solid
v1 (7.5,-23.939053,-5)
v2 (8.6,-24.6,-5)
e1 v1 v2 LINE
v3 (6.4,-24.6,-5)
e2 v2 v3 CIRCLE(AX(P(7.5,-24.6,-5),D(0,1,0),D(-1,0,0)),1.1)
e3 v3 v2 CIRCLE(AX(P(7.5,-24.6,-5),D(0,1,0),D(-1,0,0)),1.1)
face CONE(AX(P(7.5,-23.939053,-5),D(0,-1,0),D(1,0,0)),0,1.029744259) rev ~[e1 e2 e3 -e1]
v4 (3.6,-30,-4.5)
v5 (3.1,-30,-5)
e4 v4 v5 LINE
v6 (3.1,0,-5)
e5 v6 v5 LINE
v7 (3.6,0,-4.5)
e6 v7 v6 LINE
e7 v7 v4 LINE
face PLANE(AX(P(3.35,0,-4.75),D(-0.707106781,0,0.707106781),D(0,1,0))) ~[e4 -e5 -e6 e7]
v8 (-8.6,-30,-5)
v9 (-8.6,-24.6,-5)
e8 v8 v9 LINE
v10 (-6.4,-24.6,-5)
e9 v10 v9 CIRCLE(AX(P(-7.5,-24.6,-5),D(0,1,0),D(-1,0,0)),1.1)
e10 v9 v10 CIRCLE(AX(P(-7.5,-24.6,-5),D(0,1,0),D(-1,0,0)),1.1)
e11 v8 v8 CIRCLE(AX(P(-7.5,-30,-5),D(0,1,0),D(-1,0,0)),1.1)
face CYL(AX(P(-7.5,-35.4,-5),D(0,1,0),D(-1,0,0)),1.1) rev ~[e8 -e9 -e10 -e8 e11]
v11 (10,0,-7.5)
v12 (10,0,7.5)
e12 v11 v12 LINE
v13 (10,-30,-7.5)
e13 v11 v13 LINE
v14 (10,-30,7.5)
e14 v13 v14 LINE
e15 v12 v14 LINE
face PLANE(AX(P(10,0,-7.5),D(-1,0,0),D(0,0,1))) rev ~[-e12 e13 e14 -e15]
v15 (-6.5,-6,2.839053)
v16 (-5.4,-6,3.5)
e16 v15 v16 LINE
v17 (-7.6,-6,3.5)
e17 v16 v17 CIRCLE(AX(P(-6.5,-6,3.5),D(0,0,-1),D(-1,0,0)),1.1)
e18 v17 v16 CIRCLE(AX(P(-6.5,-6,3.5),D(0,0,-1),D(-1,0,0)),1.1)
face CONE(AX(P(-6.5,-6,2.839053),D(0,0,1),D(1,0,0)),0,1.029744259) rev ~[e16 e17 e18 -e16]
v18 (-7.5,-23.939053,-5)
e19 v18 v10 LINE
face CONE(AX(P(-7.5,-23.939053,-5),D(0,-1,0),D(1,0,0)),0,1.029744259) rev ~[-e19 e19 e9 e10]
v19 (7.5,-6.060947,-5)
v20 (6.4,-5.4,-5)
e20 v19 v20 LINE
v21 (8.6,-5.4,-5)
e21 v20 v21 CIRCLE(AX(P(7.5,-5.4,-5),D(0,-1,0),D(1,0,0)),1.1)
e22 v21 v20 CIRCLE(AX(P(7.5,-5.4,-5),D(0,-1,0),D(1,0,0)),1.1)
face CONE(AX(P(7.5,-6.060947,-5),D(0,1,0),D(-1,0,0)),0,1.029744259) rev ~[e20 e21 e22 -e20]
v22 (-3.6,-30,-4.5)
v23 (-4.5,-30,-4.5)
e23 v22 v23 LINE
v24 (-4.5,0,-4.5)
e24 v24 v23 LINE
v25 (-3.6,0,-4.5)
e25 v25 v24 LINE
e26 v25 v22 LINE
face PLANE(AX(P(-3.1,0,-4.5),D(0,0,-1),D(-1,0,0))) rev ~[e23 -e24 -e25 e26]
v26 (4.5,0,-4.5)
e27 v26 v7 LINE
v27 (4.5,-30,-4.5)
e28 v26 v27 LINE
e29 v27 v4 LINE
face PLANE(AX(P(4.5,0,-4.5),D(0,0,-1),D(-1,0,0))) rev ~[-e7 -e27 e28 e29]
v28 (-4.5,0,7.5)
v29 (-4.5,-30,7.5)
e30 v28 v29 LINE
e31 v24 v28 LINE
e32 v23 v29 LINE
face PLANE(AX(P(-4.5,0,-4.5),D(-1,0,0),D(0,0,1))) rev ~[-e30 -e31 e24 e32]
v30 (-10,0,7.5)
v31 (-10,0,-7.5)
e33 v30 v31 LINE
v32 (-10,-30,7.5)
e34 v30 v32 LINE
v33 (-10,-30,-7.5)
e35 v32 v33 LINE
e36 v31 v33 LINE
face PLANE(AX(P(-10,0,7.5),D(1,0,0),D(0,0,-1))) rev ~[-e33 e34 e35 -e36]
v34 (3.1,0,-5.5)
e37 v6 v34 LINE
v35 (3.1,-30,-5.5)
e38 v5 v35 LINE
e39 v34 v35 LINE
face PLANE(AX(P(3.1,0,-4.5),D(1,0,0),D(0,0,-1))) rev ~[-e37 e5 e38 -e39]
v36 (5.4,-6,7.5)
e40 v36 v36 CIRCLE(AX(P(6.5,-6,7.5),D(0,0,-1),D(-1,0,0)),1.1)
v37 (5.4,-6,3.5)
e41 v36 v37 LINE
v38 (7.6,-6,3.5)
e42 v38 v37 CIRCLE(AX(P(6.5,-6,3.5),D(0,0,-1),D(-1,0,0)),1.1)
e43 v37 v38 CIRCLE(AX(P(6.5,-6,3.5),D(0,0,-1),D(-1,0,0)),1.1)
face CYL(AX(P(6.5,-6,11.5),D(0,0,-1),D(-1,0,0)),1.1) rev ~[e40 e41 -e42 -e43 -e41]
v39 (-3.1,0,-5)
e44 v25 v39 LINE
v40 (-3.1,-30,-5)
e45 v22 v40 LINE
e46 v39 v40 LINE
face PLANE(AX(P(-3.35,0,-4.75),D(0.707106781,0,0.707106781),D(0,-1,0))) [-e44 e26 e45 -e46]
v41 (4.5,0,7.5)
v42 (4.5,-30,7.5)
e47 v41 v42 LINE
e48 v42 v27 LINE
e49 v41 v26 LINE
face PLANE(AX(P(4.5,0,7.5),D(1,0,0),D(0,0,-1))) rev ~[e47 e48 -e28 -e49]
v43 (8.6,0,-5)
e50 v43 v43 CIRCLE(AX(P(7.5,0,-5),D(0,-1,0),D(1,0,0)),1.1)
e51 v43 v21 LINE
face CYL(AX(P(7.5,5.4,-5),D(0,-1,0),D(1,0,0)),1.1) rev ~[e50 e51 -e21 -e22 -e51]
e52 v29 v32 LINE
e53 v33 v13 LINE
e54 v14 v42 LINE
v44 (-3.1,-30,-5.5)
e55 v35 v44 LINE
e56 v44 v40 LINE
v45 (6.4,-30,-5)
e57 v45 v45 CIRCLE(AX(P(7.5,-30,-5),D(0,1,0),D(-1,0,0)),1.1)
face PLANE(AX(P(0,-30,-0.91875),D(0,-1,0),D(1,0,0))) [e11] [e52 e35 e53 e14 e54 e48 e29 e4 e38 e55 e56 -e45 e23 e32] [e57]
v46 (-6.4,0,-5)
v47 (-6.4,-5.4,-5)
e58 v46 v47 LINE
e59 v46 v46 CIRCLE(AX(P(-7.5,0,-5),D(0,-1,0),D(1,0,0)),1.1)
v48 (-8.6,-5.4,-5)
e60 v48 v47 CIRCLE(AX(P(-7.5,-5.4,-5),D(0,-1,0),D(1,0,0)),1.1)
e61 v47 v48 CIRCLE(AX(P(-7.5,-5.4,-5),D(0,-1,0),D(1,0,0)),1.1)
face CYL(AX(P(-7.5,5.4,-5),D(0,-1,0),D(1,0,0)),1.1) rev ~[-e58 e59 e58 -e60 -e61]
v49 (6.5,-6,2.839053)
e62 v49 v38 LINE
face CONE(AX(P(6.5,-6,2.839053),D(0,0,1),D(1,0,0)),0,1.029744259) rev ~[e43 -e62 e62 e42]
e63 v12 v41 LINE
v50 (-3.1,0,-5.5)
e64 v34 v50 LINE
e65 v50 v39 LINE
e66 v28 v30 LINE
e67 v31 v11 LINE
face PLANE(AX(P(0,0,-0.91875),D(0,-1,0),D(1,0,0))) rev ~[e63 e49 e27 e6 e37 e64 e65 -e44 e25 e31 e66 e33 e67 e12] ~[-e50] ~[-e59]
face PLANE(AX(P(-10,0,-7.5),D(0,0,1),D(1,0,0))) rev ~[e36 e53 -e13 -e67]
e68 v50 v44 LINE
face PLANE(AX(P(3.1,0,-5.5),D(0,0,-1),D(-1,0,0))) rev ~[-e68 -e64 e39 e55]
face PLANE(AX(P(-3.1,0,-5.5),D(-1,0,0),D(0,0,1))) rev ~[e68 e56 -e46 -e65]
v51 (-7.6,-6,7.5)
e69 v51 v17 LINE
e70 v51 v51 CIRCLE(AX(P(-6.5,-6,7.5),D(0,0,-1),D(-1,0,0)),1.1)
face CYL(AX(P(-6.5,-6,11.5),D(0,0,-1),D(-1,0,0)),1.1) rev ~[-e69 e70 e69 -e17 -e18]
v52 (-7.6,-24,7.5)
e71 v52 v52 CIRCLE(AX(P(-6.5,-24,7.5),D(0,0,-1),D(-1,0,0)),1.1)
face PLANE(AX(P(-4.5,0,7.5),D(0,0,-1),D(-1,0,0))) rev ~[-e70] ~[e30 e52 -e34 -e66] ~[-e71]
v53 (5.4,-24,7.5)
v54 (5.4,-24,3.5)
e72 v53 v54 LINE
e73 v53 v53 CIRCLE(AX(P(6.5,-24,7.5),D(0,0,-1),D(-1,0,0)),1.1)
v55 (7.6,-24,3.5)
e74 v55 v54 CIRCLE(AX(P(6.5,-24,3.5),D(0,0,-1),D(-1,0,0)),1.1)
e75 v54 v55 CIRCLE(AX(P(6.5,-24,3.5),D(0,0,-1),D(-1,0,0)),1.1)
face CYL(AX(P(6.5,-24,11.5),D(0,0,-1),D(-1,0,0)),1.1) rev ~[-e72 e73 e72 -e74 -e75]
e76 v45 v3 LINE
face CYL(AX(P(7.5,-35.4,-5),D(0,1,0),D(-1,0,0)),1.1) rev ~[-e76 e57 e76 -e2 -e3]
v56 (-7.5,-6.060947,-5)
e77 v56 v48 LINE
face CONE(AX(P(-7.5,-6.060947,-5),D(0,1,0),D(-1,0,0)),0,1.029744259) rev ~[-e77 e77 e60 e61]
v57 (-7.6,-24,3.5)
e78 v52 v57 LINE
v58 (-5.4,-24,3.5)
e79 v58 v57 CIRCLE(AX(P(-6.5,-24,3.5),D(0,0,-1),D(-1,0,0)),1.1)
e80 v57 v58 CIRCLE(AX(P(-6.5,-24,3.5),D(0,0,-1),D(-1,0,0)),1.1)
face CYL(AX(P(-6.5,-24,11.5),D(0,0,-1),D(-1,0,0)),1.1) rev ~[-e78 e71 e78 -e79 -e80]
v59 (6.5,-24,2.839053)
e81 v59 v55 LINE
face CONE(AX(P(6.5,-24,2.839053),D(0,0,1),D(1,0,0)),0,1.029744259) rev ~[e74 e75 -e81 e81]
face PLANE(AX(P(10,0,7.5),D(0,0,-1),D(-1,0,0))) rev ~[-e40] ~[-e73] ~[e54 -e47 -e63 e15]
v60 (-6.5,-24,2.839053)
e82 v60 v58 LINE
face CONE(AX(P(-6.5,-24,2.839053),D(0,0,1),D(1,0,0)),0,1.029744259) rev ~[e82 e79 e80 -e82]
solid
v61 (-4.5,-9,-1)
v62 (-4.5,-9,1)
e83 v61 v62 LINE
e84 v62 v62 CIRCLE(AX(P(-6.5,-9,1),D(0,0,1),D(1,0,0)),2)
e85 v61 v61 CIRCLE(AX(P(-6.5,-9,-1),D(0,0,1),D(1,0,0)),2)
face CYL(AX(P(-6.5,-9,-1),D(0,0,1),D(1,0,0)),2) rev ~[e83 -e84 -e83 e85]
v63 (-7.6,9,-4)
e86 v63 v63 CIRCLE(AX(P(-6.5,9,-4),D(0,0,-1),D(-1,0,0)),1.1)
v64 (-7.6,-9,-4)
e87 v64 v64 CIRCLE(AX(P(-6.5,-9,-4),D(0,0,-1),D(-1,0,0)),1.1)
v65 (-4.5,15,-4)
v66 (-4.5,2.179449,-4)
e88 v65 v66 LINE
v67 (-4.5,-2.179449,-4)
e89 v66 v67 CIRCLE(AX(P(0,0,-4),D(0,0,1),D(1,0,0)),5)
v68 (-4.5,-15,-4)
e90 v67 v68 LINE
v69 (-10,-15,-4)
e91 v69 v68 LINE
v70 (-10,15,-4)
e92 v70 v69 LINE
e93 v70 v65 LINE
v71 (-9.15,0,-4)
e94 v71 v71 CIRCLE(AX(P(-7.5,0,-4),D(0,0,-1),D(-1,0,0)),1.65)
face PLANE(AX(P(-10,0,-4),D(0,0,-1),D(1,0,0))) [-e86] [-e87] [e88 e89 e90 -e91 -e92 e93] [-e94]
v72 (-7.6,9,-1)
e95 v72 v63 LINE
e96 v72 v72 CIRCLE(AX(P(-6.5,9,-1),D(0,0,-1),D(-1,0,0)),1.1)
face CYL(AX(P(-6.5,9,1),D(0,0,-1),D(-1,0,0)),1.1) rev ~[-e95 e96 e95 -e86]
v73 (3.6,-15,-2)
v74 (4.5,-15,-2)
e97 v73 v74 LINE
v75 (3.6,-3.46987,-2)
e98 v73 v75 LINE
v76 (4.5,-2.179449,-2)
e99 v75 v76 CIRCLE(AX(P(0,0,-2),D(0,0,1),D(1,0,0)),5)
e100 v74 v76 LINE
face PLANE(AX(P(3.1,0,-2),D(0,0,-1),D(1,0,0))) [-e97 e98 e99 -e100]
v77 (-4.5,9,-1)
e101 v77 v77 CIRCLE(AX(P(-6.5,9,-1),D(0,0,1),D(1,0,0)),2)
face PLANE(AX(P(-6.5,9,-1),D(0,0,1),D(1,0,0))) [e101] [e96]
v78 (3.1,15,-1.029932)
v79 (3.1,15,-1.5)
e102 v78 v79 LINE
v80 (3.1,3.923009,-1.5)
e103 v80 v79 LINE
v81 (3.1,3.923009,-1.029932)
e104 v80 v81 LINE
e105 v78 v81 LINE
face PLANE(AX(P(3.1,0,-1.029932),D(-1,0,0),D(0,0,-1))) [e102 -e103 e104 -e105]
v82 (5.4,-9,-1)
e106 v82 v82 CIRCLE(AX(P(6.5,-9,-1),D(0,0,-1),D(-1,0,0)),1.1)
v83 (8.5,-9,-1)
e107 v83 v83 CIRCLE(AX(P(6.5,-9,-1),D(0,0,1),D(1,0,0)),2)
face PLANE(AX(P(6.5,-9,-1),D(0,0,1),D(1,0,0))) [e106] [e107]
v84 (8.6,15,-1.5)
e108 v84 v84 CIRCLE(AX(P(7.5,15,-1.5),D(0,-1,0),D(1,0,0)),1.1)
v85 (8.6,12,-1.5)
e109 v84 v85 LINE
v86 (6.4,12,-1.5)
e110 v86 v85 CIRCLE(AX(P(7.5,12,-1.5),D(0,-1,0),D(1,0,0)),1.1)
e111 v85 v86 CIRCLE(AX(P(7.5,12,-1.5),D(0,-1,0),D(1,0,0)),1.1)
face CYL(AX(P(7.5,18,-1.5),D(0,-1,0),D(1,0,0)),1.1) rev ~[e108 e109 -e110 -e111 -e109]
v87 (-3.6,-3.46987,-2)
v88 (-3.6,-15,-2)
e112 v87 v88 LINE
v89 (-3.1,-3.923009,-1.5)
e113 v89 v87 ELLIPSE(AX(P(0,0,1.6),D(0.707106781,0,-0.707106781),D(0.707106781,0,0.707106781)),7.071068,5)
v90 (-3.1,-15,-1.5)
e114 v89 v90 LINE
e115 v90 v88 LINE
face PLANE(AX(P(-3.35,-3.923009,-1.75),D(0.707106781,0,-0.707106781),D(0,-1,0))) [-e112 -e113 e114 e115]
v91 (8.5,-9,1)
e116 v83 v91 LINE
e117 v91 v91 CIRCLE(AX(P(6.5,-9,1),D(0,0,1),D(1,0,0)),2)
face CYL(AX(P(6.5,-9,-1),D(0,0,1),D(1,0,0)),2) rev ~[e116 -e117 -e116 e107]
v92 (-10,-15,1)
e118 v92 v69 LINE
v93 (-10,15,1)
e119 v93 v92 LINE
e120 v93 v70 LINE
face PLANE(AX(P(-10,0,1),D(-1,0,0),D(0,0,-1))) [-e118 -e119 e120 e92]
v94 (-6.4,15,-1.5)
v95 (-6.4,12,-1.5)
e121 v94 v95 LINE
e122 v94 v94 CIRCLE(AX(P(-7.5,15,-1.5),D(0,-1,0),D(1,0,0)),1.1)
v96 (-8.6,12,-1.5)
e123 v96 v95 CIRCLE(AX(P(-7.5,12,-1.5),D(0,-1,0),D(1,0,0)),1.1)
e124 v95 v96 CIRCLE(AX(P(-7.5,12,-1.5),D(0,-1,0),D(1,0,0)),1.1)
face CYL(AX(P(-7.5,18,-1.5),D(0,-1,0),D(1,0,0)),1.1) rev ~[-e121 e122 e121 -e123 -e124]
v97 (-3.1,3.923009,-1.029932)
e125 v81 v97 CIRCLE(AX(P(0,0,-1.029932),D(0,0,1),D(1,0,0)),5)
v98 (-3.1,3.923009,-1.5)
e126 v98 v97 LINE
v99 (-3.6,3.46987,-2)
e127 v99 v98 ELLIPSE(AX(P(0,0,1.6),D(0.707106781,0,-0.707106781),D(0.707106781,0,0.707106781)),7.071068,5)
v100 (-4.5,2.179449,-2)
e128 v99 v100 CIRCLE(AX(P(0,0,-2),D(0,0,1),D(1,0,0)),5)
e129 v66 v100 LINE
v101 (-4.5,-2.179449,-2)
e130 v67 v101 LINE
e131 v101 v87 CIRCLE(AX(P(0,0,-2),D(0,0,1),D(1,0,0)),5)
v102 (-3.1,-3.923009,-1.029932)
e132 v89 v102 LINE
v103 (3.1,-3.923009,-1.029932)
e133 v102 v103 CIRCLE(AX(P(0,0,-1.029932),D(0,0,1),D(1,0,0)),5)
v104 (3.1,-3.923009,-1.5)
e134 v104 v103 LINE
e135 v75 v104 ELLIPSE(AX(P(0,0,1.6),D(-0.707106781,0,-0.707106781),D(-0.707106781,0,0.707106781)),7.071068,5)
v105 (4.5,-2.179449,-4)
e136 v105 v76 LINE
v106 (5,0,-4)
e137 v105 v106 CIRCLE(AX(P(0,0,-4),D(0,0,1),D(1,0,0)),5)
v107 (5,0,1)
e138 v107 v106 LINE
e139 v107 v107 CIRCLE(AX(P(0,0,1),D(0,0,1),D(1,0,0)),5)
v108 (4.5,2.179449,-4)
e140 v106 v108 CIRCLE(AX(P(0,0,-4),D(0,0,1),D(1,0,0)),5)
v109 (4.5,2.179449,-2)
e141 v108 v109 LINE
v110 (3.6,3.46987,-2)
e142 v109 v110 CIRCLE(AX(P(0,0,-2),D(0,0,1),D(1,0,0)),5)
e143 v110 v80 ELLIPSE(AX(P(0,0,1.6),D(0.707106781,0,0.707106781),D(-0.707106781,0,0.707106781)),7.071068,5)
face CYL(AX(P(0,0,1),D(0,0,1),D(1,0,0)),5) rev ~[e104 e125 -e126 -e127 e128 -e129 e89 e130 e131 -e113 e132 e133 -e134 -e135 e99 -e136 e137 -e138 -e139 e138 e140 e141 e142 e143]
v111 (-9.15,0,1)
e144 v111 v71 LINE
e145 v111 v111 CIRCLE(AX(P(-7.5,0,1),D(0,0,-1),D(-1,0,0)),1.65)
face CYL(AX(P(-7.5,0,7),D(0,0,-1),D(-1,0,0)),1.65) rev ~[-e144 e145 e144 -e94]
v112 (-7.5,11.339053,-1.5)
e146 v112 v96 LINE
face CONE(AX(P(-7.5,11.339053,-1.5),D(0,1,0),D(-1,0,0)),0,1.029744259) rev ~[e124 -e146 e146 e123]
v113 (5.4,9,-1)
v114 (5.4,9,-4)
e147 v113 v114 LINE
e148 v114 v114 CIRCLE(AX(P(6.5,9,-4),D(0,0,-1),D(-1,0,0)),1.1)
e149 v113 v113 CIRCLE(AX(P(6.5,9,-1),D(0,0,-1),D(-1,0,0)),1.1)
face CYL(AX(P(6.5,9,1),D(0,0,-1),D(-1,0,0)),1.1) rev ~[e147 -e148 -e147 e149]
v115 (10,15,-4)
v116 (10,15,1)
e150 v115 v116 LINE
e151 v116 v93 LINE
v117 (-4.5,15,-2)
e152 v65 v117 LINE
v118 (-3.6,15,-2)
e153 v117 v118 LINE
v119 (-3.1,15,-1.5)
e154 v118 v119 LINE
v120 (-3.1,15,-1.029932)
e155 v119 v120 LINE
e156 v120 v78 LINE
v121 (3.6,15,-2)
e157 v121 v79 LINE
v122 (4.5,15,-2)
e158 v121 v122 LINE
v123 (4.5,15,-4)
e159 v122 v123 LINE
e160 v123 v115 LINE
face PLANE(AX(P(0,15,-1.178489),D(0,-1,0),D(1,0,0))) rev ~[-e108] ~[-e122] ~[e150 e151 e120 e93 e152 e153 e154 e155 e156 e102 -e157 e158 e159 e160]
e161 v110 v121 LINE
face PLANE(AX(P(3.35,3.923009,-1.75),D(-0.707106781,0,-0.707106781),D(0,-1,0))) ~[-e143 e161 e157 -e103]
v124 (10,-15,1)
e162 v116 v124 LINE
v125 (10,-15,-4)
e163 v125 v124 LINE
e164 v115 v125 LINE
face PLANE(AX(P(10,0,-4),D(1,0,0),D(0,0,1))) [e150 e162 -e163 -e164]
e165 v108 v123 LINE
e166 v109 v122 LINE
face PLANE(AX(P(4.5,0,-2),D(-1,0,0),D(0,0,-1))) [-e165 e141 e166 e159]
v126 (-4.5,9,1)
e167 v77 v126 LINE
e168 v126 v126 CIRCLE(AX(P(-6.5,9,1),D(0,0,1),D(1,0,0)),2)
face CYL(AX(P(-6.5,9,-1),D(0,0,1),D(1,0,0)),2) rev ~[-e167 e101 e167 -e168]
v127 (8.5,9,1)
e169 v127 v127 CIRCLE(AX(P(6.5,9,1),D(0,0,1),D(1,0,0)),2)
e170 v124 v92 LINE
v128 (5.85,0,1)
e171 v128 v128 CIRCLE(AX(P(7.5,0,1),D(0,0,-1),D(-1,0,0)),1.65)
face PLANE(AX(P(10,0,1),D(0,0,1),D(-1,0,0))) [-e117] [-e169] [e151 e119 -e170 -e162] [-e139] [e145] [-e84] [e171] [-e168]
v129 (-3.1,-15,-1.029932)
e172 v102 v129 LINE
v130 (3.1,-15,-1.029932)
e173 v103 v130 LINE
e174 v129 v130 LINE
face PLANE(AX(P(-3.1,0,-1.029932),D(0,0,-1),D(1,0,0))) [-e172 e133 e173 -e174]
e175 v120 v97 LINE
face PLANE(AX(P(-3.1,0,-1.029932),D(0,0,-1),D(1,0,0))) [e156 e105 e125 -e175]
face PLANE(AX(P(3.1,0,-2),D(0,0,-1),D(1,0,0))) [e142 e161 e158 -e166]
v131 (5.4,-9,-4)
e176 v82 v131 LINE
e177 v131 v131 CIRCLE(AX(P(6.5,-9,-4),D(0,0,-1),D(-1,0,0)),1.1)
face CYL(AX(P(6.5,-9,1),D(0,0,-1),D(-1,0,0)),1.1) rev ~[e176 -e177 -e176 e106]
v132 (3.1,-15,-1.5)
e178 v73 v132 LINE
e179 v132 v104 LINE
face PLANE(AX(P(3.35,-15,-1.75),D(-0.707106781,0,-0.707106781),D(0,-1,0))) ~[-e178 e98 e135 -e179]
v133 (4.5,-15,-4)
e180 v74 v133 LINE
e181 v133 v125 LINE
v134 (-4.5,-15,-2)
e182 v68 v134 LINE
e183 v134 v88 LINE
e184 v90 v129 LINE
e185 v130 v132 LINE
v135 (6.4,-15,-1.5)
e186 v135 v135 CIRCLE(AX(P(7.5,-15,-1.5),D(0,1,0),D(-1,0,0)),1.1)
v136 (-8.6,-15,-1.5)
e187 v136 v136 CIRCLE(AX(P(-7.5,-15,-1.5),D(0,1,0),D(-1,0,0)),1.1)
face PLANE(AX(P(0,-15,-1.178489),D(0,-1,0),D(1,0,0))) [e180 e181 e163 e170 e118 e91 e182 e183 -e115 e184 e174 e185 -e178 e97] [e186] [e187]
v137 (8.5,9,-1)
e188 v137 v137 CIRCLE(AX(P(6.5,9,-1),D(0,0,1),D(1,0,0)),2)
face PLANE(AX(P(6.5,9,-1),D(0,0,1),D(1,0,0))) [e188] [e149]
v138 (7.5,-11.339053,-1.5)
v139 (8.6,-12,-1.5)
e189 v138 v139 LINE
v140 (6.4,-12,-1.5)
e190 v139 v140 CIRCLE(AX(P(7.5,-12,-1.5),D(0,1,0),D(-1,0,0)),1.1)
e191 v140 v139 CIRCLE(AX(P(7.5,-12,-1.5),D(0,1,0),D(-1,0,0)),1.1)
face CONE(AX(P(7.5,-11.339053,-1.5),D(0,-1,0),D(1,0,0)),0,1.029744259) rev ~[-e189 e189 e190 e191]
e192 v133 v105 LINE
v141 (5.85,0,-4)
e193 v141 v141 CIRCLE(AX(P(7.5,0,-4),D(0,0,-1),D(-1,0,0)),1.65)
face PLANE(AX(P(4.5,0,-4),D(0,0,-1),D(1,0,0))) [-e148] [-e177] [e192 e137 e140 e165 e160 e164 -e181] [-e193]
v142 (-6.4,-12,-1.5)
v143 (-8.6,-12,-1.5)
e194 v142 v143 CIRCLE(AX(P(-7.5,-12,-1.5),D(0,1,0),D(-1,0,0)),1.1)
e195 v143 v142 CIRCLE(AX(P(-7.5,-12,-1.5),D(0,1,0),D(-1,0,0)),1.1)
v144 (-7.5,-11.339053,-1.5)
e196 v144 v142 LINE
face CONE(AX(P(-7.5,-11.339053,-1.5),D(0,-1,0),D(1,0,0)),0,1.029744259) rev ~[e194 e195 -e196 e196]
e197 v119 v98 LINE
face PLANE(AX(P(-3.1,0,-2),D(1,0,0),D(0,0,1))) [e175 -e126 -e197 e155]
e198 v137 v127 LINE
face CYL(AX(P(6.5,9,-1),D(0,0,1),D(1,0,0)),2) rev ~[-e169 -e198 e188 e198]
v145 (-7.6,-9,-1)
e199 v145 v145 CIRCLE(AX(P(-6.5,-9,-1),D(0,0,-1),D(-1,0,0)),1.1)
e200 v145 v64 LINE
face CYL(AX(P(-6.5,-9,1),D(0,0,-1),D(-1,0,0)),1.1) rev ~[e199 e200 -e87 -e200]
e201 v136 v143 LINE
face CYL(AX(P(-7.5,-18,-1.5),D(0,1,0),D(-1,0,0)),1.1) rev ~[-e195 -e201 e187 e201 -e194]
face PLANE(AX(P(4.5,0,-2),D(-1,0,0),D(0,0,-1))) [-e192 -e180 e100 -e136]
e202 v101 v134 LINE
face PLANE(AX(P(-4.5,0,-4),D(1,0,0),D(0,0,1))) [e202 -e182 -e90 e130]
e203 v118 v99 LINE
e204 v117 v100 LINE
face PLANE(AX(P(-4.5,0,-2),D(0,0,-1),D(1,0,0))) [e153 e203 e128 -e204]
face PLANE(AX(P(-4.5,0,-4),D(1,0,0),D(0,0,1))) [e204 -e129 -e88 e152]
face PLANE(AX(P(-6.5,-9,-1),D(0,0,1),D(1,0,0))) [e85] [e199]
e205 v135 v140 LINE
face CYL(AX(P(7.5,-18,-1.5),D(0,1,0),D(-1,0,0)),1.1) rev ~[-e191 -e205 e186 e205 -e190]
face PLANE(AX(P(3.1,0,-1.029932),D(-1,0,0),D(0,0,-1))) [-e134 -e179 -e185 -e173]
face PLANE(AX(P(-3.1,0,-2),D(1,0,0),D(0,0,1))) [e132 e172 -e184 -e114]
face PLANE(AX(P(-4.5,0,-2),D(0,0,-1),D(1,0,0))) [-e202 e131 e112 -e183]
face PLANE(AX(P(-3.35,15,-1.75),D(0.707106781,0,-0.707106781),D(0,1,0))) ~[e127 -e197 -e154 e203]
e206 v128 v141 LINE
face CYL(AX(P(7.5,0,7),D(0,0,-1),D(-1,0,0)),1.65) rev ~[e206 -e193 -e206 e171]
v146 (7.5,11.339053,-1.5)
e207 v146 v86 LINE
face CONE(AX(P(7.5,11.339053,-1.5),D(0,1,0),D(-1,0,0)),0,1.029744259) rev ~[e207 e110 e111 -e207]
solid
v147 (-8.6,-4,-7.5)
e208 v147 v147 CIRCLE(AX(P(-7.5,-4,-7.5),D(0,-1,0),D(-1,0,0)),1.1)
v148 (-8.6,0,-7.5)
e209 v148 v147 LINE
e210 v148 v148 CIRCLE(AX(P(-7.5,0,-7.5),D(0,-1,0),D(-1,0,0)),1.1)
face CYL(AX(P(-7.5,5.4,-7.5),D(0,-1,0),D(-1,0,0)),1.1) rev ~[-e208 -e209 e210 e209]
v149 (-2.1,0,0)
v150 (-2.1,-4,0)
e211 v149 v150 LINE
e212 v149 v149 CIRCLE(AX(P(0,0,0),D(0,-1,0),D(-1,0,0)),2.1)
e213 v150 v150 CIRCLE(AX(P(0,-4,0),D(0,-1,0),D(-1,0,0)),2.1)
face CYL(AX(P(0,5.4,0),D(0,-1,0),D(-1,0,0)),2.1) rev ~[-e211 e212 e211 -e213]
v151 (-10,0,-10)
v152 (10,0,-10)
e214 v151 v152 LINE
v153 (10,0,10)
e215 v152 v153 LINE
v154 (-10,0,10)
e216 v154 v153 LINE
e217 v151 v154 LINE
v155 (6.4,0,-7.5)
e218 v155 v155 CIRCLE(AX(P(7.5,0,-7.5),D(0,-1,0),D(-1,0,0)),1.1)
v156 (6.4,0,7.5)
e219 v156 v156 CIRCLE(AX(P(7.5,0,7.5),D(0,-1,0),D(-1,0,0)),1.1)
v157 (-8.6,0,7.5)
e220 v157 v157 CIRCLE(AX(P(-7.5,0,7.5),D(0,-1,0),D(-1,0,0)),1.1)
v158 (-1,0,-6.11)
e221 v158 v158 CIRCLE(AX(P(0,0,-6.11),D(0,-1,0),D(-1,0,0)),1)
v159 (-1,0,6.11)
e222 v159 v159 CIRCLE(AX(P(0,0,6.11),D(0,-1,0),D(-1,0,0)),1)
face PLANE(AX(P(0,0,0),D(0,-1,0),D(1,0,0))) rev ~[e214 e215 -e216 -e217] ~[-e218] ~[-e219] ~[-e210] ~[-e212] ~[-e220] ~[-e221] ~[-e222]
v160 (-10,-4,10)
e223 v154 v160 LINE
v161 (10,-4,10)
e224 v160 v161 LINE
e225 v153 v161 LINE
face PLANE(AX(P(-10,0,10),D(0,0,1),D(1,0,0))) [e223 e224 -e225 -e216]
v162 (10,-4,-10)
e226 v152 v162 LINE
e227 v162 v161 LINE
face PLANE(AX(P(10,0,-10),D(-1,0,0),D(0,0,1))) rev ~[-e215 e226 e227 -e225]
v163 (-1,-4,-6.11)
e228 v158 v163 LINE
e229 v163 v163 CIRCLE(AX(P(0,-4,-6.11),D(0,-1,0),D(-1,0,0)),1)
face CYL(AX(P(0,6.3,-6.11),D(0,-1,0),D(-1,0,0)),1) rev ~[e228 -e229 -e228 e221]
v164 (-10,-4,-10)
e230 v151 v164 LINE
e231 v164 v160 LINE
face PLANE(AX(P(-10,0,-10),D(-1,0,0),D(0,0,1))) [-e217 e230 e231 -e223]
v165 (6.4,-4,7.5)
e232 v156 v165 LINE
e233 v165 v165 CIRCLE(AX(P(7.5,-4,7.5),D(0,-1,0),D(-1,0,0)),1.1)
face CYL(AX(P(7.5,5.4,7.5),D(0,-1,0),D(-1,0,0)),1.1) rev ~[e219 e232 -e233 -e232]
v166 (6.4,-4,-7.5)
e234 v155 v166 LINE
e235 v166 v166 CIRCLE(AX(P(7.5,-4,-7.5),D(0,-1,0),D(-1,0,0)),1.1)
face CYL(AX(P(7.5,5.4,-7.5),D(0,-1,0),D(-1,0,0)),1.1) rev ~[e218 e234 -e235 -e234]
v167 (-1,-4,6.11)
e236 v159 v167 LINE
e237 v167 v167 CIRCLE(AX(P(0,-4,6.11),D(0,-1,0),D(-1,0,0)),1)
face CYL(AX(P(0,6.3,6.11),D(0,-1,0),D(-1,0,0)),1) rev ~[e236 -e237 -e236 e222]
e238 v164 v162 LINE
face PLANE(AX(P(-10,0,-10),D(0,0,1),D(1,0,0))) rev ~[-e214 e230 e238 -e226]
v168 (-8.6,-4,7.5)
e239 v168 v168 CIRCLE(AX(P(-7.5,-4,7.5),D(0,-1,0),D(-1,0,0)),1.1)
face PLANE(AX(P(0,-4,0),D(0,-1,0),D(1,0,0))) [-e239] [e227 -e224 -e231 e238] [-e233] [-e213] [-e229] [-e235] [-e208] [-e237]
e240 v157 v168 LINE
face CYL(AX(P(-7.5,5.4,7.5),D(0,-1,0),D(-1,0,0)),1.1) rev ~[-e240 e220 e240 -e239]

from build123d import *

# Parameters (mm, degrees)
F3_DEPTH         = 30
F2_W             = 20
F2_H             = 20
F4_DEPTH         = 4
F5_D             = 2.2
F5_DEPTH         = 5.4
F5_TIP           = 0.6609466809
F6_D             = 2
F6_DEPTH         = 6.3
F6_TIP           = 0.600860619
F7_D             = 4.2
F7_DEPTH         = 5.4
F7_TIP           = 1.2618073
F8_DEPTH         = 15
F9_R             = 5
F10_DEPTH        = 25
F11_D            = 2.2
F11_DEPTH        = 5.4
F11_CBORE_D      = 4
F11_CBORE_DEPTH  = 2
F11_TIP          = 0.6609466809
F16_D            = 2.2
F16_DEPTH        = 5.4
F16_TIP          = 0.6609466809
F16_ON_F14_D     = 2.2
F16_ON_F14_DEPTH = 5.4
F16_ON_F14_TIP   = 0.6609466809
F17_D            = 2.2
F17_DEPTH        = 3
F17_TIP          = 0.6609466809
F17_ON_F15_D     = 2.2
F17_ON_F15_DEPTH = 3
F17_ON_F15_TIP   = 0.6609466809
F20_D            = 2.2
F20_DEPTH        = 4
F20_TIP          = 0.6609466809
F20_ON_F19_D     = 2.2
F20_ON_F19_DEPTH = 4
F20_ON_F19_TIP   = 0.6609466809
F21_D            = 3.3
F21_DEPTH        = 6
F21_TIP          = 0.9914200214
F22_SIZE         = 0.5
F22_2_SIZE       = 0.5


with BuildPart() as f3:
    # F0 (on Front) → F3 (new body)
    with BuildSketch(Plane.XZ):
        Polygon((-10, -7.5), (10, -7.5), (10, 7.5), (4.5, 7.5), (4.5, -4.5), (3.1, -4.5), (3.1, -5.5), (-3.1, -5.5), (-3.1, -4.5), (-4.5, -4.5), (-4.5, 7.5), (-10, 7.5), align=None)
    extrude(amount=F3_DEPTH)

    # F16
    with Locations(Plane.XZ.offset(30)):
        with Locations((-7.5, -5), (7.5, -5)):
            Hole(F16_D / 2, depth=F16_DEPTH)
            with Locations((0, 0, -(F16_DEPTH + F16_TIP / 2))):  # 118° drill point
                Cone(0, F16_D / 2, F16_TIP, mode=Mode.SUBTRACT)

    # F16 on F14
    with Locations(Plane(origin=(0, 0, 0), x_dir=(-1, 0, 0), z_dir=(0, 1, 0))):
        with Locations((-7.5, -5), (7.5, -5)):
            Hole(F16_ON_F14_D / 2, depth=F16_ON_F14_DEPTH)
            with Locations((0, 0, -(F16_ON_F14_DEPTH + F16_ON_F14_TIP / 2))):  # 118° drill point
                Cone(0, F16_ON_F14_D / 2, F16_ON_F14_TIP, mode=Mode.SUBTRACT)

    # F20
    with Locations(Plane.XY.offset(7.5)):
        with Locations((-6.5, -6), (-6.5, -24)):
            Hole(F20_D / 2, depth=F20_DEPTH)
            with Locations((0, 0, -(F20_DEPTH + F20_TIP / 2))):  # 118° drill point
                Cone(0, F20_D / 2, F20_TIP, mode=Mode.SUBTRACT)

    # F20 on F19
    with Locations(Plane.XY.offset(7.5)):
        with Locations((6.5, -6), (6.5, -24)):
            Hole(F20_ON_F19_D / 2, depth=F20_ON_F19_DEPTH)
            with Locations((0, 0, -(F20_ON_F19_DEPTH + F20_ON_F19_TIP / 2))):  # 118° drill point
                Cone(0, F20_ON_F19_D / 2, F20_ON_F19_TIP, mode=Mode.SUBTRACT)

    # F22#2
    f22_2_edges = [f3.edges().sort_by_distance(p)[0] for p in [
        (-3.1, -15, -4.5),
        (3.1, -15, -4.5),
    ]]
    chamfer(f22_2_edges, length=F22_2_SIZE)


with BuildPart() as f4:
    # F2 (on Front) → F4 (new body)
    with BuildSketch(Plane.XZ):
        Rectangle(F2_W, F2_H)
    extrude(amount=F4_DEPTH)

    # F5
    with Locations(Plane(origin=(0, 0, 0), x_dir=(1, 0, 0), z_dir=(0, 1, 0))):
        with Locations((-7.5, -7.5), (7.5, -7.5), (-7.5, 7.5), (7.5, 7.5)):
            Hole(F5_D / 2, depth=F5_DEPTH)
            with Locations((0, 0, -(F5_DEPTH + F5_TIP / 2))):  # 118° drill point
                Cone(0, F5_D / 2, F5_TIP, mode=Mode.SUBTRACT)

    # F6
    with Locations(Plane(origin=(0, 0, 0), x_dir=(1, 0, 0), z_dir=(0, 1, 0))):
        with Locations((0, -6.11), (0, 6.11)):
            Hole(F6_D / 2, depth=F6_DEPTH)
            with Locations((0, 0, -(F6_DEPTH + F6_TIP / 2))):  # 118° drill point
                Cone(0, F6_D / 2, F6_TIP, mode=Mode.SUBTRACT)

    # F7
    with Locations(Plane(origin=(0, 0, 0), x_dir=(1, 0, 0), z_dir=(0, 1, 0))):
        with Locations((0, 0)):
            Hole(F7_D / 2, depth=F7_DEPTH)
            with Locations((0, 0, -(F7_DEPTH + F7_TIP / 2))):  # 118° drill point
                Cone(0, F7_D / 2, F7_TIP, mode=Mode.SUBTRACT)


with BuildPart() as f8:
    # F1 (on Front) → F8 (new body, symmetric)
    with BuildSketch(Plane.XZ):
        Polygon((10, -1), (10, 1), (-10, 1), (-10, -3), (-10, -4), (-4.5, -4), (-4.5, -2), (-3.1, -2), (-3.1, -1.029932369), (3.1, -1.029932369), (3.1, -2), (4.5, -2), (4.5, -4), (10, -4), (10, -3), align=None)
        Polygon((3.1448985535, -1.029932369), (3.1, -1.029932369), (3.1, -1), align=None, mode=Mode.SUBTRACT)
        Polygon((3.1, -1), (3.1, -1.029932369), (3.1448985535, -1.029932369), align=None)
    extrude(amount=F8_DEPTH, both=True)

    # F9 (on face) → F10 (cut)
    with BuildSketch(Plane.XY.offset(1)):
        Circle(F9_R)
    extrude(amount=-F10_DEPTH, mode=Mode.SUBTRACT)

    # F11
    with Locations(Plane.XY.offset(1)):
        with Locations((-6.5, -9), (-6.5, 9), (6.5, 9), (6.5, -9)):
            CounterBoreHole(F11_D / 2, F11_CBORE_D / 2, F11_CBORE_DEPTH, depth=F11_DEPTH)
            with Locations((0, 0, -(F11_DEPTH + F11_TIP / 2))):  # 118° drill point
                Cone(0, F11_D / 2, F11_TIP, mode=Mode.SUBTRACT)

    # F17
    with Locations(Plane.XZ.offset(15)):
        with Locations((7.5, -1.5), (-7.5, -1.5)):
            Hole(F17_D / 2, depth=F17_DEPTH)
            with Locations((0, 0, -(F17_DEPTH + F17_TIP / 2))):  # 118° drill point
                Cone(0, F17_D / 2, F17_TIP, mode=Mode.SUBTRACT)

    # F17 on F15
    with Locations(Plane(origin=(0, 15, 0), x_dir=(-1, 0, 0), z_dir=(0, 1, 0))):
        with Locations((-7.5, -1.5), (7.5, -1.5)):
            Hole(F17_ON_F15_D / 2, depth=F17_ON_F15_DEPTH)
            with Locations((0, 0, -(F17_ON_F15_DEPTH + F17_ON_F15_TIP / 2))):  # 118° drill point
                Cone(0, F17_ON_F15_D / 2, F17_ON_F15_TIP, mode=Mode.SUBTRACT)

    # F21
    with Locations(Plane.XY.offset(1)):
        with Locations((-7.5, 0), (7.5, 0)):
            Hole(F21_D / 2, depth=F21_DEPTH)
            with Locations((0, 0, -(F21_DEPTH + F21_TIP / 2))):  # 118° drill point
                Cone(0, F21_D / 2, F21_TIP, mode=Mode.SUBTRACT)

    # F22
    f22_edges = [f8.edges().sort_by_distance(p)[0] for p in [
        (-3.1, 9.461505, -2),
        (3.1, 9.461505, -2),
        (3.1, -9.461505, -2),
        (-3.1, -9.461505, -2),
    ]]
    chamfer(f22_edges, length=F22_SIZE)


solid = Compound([f3.part, f4.part, f8.part])
